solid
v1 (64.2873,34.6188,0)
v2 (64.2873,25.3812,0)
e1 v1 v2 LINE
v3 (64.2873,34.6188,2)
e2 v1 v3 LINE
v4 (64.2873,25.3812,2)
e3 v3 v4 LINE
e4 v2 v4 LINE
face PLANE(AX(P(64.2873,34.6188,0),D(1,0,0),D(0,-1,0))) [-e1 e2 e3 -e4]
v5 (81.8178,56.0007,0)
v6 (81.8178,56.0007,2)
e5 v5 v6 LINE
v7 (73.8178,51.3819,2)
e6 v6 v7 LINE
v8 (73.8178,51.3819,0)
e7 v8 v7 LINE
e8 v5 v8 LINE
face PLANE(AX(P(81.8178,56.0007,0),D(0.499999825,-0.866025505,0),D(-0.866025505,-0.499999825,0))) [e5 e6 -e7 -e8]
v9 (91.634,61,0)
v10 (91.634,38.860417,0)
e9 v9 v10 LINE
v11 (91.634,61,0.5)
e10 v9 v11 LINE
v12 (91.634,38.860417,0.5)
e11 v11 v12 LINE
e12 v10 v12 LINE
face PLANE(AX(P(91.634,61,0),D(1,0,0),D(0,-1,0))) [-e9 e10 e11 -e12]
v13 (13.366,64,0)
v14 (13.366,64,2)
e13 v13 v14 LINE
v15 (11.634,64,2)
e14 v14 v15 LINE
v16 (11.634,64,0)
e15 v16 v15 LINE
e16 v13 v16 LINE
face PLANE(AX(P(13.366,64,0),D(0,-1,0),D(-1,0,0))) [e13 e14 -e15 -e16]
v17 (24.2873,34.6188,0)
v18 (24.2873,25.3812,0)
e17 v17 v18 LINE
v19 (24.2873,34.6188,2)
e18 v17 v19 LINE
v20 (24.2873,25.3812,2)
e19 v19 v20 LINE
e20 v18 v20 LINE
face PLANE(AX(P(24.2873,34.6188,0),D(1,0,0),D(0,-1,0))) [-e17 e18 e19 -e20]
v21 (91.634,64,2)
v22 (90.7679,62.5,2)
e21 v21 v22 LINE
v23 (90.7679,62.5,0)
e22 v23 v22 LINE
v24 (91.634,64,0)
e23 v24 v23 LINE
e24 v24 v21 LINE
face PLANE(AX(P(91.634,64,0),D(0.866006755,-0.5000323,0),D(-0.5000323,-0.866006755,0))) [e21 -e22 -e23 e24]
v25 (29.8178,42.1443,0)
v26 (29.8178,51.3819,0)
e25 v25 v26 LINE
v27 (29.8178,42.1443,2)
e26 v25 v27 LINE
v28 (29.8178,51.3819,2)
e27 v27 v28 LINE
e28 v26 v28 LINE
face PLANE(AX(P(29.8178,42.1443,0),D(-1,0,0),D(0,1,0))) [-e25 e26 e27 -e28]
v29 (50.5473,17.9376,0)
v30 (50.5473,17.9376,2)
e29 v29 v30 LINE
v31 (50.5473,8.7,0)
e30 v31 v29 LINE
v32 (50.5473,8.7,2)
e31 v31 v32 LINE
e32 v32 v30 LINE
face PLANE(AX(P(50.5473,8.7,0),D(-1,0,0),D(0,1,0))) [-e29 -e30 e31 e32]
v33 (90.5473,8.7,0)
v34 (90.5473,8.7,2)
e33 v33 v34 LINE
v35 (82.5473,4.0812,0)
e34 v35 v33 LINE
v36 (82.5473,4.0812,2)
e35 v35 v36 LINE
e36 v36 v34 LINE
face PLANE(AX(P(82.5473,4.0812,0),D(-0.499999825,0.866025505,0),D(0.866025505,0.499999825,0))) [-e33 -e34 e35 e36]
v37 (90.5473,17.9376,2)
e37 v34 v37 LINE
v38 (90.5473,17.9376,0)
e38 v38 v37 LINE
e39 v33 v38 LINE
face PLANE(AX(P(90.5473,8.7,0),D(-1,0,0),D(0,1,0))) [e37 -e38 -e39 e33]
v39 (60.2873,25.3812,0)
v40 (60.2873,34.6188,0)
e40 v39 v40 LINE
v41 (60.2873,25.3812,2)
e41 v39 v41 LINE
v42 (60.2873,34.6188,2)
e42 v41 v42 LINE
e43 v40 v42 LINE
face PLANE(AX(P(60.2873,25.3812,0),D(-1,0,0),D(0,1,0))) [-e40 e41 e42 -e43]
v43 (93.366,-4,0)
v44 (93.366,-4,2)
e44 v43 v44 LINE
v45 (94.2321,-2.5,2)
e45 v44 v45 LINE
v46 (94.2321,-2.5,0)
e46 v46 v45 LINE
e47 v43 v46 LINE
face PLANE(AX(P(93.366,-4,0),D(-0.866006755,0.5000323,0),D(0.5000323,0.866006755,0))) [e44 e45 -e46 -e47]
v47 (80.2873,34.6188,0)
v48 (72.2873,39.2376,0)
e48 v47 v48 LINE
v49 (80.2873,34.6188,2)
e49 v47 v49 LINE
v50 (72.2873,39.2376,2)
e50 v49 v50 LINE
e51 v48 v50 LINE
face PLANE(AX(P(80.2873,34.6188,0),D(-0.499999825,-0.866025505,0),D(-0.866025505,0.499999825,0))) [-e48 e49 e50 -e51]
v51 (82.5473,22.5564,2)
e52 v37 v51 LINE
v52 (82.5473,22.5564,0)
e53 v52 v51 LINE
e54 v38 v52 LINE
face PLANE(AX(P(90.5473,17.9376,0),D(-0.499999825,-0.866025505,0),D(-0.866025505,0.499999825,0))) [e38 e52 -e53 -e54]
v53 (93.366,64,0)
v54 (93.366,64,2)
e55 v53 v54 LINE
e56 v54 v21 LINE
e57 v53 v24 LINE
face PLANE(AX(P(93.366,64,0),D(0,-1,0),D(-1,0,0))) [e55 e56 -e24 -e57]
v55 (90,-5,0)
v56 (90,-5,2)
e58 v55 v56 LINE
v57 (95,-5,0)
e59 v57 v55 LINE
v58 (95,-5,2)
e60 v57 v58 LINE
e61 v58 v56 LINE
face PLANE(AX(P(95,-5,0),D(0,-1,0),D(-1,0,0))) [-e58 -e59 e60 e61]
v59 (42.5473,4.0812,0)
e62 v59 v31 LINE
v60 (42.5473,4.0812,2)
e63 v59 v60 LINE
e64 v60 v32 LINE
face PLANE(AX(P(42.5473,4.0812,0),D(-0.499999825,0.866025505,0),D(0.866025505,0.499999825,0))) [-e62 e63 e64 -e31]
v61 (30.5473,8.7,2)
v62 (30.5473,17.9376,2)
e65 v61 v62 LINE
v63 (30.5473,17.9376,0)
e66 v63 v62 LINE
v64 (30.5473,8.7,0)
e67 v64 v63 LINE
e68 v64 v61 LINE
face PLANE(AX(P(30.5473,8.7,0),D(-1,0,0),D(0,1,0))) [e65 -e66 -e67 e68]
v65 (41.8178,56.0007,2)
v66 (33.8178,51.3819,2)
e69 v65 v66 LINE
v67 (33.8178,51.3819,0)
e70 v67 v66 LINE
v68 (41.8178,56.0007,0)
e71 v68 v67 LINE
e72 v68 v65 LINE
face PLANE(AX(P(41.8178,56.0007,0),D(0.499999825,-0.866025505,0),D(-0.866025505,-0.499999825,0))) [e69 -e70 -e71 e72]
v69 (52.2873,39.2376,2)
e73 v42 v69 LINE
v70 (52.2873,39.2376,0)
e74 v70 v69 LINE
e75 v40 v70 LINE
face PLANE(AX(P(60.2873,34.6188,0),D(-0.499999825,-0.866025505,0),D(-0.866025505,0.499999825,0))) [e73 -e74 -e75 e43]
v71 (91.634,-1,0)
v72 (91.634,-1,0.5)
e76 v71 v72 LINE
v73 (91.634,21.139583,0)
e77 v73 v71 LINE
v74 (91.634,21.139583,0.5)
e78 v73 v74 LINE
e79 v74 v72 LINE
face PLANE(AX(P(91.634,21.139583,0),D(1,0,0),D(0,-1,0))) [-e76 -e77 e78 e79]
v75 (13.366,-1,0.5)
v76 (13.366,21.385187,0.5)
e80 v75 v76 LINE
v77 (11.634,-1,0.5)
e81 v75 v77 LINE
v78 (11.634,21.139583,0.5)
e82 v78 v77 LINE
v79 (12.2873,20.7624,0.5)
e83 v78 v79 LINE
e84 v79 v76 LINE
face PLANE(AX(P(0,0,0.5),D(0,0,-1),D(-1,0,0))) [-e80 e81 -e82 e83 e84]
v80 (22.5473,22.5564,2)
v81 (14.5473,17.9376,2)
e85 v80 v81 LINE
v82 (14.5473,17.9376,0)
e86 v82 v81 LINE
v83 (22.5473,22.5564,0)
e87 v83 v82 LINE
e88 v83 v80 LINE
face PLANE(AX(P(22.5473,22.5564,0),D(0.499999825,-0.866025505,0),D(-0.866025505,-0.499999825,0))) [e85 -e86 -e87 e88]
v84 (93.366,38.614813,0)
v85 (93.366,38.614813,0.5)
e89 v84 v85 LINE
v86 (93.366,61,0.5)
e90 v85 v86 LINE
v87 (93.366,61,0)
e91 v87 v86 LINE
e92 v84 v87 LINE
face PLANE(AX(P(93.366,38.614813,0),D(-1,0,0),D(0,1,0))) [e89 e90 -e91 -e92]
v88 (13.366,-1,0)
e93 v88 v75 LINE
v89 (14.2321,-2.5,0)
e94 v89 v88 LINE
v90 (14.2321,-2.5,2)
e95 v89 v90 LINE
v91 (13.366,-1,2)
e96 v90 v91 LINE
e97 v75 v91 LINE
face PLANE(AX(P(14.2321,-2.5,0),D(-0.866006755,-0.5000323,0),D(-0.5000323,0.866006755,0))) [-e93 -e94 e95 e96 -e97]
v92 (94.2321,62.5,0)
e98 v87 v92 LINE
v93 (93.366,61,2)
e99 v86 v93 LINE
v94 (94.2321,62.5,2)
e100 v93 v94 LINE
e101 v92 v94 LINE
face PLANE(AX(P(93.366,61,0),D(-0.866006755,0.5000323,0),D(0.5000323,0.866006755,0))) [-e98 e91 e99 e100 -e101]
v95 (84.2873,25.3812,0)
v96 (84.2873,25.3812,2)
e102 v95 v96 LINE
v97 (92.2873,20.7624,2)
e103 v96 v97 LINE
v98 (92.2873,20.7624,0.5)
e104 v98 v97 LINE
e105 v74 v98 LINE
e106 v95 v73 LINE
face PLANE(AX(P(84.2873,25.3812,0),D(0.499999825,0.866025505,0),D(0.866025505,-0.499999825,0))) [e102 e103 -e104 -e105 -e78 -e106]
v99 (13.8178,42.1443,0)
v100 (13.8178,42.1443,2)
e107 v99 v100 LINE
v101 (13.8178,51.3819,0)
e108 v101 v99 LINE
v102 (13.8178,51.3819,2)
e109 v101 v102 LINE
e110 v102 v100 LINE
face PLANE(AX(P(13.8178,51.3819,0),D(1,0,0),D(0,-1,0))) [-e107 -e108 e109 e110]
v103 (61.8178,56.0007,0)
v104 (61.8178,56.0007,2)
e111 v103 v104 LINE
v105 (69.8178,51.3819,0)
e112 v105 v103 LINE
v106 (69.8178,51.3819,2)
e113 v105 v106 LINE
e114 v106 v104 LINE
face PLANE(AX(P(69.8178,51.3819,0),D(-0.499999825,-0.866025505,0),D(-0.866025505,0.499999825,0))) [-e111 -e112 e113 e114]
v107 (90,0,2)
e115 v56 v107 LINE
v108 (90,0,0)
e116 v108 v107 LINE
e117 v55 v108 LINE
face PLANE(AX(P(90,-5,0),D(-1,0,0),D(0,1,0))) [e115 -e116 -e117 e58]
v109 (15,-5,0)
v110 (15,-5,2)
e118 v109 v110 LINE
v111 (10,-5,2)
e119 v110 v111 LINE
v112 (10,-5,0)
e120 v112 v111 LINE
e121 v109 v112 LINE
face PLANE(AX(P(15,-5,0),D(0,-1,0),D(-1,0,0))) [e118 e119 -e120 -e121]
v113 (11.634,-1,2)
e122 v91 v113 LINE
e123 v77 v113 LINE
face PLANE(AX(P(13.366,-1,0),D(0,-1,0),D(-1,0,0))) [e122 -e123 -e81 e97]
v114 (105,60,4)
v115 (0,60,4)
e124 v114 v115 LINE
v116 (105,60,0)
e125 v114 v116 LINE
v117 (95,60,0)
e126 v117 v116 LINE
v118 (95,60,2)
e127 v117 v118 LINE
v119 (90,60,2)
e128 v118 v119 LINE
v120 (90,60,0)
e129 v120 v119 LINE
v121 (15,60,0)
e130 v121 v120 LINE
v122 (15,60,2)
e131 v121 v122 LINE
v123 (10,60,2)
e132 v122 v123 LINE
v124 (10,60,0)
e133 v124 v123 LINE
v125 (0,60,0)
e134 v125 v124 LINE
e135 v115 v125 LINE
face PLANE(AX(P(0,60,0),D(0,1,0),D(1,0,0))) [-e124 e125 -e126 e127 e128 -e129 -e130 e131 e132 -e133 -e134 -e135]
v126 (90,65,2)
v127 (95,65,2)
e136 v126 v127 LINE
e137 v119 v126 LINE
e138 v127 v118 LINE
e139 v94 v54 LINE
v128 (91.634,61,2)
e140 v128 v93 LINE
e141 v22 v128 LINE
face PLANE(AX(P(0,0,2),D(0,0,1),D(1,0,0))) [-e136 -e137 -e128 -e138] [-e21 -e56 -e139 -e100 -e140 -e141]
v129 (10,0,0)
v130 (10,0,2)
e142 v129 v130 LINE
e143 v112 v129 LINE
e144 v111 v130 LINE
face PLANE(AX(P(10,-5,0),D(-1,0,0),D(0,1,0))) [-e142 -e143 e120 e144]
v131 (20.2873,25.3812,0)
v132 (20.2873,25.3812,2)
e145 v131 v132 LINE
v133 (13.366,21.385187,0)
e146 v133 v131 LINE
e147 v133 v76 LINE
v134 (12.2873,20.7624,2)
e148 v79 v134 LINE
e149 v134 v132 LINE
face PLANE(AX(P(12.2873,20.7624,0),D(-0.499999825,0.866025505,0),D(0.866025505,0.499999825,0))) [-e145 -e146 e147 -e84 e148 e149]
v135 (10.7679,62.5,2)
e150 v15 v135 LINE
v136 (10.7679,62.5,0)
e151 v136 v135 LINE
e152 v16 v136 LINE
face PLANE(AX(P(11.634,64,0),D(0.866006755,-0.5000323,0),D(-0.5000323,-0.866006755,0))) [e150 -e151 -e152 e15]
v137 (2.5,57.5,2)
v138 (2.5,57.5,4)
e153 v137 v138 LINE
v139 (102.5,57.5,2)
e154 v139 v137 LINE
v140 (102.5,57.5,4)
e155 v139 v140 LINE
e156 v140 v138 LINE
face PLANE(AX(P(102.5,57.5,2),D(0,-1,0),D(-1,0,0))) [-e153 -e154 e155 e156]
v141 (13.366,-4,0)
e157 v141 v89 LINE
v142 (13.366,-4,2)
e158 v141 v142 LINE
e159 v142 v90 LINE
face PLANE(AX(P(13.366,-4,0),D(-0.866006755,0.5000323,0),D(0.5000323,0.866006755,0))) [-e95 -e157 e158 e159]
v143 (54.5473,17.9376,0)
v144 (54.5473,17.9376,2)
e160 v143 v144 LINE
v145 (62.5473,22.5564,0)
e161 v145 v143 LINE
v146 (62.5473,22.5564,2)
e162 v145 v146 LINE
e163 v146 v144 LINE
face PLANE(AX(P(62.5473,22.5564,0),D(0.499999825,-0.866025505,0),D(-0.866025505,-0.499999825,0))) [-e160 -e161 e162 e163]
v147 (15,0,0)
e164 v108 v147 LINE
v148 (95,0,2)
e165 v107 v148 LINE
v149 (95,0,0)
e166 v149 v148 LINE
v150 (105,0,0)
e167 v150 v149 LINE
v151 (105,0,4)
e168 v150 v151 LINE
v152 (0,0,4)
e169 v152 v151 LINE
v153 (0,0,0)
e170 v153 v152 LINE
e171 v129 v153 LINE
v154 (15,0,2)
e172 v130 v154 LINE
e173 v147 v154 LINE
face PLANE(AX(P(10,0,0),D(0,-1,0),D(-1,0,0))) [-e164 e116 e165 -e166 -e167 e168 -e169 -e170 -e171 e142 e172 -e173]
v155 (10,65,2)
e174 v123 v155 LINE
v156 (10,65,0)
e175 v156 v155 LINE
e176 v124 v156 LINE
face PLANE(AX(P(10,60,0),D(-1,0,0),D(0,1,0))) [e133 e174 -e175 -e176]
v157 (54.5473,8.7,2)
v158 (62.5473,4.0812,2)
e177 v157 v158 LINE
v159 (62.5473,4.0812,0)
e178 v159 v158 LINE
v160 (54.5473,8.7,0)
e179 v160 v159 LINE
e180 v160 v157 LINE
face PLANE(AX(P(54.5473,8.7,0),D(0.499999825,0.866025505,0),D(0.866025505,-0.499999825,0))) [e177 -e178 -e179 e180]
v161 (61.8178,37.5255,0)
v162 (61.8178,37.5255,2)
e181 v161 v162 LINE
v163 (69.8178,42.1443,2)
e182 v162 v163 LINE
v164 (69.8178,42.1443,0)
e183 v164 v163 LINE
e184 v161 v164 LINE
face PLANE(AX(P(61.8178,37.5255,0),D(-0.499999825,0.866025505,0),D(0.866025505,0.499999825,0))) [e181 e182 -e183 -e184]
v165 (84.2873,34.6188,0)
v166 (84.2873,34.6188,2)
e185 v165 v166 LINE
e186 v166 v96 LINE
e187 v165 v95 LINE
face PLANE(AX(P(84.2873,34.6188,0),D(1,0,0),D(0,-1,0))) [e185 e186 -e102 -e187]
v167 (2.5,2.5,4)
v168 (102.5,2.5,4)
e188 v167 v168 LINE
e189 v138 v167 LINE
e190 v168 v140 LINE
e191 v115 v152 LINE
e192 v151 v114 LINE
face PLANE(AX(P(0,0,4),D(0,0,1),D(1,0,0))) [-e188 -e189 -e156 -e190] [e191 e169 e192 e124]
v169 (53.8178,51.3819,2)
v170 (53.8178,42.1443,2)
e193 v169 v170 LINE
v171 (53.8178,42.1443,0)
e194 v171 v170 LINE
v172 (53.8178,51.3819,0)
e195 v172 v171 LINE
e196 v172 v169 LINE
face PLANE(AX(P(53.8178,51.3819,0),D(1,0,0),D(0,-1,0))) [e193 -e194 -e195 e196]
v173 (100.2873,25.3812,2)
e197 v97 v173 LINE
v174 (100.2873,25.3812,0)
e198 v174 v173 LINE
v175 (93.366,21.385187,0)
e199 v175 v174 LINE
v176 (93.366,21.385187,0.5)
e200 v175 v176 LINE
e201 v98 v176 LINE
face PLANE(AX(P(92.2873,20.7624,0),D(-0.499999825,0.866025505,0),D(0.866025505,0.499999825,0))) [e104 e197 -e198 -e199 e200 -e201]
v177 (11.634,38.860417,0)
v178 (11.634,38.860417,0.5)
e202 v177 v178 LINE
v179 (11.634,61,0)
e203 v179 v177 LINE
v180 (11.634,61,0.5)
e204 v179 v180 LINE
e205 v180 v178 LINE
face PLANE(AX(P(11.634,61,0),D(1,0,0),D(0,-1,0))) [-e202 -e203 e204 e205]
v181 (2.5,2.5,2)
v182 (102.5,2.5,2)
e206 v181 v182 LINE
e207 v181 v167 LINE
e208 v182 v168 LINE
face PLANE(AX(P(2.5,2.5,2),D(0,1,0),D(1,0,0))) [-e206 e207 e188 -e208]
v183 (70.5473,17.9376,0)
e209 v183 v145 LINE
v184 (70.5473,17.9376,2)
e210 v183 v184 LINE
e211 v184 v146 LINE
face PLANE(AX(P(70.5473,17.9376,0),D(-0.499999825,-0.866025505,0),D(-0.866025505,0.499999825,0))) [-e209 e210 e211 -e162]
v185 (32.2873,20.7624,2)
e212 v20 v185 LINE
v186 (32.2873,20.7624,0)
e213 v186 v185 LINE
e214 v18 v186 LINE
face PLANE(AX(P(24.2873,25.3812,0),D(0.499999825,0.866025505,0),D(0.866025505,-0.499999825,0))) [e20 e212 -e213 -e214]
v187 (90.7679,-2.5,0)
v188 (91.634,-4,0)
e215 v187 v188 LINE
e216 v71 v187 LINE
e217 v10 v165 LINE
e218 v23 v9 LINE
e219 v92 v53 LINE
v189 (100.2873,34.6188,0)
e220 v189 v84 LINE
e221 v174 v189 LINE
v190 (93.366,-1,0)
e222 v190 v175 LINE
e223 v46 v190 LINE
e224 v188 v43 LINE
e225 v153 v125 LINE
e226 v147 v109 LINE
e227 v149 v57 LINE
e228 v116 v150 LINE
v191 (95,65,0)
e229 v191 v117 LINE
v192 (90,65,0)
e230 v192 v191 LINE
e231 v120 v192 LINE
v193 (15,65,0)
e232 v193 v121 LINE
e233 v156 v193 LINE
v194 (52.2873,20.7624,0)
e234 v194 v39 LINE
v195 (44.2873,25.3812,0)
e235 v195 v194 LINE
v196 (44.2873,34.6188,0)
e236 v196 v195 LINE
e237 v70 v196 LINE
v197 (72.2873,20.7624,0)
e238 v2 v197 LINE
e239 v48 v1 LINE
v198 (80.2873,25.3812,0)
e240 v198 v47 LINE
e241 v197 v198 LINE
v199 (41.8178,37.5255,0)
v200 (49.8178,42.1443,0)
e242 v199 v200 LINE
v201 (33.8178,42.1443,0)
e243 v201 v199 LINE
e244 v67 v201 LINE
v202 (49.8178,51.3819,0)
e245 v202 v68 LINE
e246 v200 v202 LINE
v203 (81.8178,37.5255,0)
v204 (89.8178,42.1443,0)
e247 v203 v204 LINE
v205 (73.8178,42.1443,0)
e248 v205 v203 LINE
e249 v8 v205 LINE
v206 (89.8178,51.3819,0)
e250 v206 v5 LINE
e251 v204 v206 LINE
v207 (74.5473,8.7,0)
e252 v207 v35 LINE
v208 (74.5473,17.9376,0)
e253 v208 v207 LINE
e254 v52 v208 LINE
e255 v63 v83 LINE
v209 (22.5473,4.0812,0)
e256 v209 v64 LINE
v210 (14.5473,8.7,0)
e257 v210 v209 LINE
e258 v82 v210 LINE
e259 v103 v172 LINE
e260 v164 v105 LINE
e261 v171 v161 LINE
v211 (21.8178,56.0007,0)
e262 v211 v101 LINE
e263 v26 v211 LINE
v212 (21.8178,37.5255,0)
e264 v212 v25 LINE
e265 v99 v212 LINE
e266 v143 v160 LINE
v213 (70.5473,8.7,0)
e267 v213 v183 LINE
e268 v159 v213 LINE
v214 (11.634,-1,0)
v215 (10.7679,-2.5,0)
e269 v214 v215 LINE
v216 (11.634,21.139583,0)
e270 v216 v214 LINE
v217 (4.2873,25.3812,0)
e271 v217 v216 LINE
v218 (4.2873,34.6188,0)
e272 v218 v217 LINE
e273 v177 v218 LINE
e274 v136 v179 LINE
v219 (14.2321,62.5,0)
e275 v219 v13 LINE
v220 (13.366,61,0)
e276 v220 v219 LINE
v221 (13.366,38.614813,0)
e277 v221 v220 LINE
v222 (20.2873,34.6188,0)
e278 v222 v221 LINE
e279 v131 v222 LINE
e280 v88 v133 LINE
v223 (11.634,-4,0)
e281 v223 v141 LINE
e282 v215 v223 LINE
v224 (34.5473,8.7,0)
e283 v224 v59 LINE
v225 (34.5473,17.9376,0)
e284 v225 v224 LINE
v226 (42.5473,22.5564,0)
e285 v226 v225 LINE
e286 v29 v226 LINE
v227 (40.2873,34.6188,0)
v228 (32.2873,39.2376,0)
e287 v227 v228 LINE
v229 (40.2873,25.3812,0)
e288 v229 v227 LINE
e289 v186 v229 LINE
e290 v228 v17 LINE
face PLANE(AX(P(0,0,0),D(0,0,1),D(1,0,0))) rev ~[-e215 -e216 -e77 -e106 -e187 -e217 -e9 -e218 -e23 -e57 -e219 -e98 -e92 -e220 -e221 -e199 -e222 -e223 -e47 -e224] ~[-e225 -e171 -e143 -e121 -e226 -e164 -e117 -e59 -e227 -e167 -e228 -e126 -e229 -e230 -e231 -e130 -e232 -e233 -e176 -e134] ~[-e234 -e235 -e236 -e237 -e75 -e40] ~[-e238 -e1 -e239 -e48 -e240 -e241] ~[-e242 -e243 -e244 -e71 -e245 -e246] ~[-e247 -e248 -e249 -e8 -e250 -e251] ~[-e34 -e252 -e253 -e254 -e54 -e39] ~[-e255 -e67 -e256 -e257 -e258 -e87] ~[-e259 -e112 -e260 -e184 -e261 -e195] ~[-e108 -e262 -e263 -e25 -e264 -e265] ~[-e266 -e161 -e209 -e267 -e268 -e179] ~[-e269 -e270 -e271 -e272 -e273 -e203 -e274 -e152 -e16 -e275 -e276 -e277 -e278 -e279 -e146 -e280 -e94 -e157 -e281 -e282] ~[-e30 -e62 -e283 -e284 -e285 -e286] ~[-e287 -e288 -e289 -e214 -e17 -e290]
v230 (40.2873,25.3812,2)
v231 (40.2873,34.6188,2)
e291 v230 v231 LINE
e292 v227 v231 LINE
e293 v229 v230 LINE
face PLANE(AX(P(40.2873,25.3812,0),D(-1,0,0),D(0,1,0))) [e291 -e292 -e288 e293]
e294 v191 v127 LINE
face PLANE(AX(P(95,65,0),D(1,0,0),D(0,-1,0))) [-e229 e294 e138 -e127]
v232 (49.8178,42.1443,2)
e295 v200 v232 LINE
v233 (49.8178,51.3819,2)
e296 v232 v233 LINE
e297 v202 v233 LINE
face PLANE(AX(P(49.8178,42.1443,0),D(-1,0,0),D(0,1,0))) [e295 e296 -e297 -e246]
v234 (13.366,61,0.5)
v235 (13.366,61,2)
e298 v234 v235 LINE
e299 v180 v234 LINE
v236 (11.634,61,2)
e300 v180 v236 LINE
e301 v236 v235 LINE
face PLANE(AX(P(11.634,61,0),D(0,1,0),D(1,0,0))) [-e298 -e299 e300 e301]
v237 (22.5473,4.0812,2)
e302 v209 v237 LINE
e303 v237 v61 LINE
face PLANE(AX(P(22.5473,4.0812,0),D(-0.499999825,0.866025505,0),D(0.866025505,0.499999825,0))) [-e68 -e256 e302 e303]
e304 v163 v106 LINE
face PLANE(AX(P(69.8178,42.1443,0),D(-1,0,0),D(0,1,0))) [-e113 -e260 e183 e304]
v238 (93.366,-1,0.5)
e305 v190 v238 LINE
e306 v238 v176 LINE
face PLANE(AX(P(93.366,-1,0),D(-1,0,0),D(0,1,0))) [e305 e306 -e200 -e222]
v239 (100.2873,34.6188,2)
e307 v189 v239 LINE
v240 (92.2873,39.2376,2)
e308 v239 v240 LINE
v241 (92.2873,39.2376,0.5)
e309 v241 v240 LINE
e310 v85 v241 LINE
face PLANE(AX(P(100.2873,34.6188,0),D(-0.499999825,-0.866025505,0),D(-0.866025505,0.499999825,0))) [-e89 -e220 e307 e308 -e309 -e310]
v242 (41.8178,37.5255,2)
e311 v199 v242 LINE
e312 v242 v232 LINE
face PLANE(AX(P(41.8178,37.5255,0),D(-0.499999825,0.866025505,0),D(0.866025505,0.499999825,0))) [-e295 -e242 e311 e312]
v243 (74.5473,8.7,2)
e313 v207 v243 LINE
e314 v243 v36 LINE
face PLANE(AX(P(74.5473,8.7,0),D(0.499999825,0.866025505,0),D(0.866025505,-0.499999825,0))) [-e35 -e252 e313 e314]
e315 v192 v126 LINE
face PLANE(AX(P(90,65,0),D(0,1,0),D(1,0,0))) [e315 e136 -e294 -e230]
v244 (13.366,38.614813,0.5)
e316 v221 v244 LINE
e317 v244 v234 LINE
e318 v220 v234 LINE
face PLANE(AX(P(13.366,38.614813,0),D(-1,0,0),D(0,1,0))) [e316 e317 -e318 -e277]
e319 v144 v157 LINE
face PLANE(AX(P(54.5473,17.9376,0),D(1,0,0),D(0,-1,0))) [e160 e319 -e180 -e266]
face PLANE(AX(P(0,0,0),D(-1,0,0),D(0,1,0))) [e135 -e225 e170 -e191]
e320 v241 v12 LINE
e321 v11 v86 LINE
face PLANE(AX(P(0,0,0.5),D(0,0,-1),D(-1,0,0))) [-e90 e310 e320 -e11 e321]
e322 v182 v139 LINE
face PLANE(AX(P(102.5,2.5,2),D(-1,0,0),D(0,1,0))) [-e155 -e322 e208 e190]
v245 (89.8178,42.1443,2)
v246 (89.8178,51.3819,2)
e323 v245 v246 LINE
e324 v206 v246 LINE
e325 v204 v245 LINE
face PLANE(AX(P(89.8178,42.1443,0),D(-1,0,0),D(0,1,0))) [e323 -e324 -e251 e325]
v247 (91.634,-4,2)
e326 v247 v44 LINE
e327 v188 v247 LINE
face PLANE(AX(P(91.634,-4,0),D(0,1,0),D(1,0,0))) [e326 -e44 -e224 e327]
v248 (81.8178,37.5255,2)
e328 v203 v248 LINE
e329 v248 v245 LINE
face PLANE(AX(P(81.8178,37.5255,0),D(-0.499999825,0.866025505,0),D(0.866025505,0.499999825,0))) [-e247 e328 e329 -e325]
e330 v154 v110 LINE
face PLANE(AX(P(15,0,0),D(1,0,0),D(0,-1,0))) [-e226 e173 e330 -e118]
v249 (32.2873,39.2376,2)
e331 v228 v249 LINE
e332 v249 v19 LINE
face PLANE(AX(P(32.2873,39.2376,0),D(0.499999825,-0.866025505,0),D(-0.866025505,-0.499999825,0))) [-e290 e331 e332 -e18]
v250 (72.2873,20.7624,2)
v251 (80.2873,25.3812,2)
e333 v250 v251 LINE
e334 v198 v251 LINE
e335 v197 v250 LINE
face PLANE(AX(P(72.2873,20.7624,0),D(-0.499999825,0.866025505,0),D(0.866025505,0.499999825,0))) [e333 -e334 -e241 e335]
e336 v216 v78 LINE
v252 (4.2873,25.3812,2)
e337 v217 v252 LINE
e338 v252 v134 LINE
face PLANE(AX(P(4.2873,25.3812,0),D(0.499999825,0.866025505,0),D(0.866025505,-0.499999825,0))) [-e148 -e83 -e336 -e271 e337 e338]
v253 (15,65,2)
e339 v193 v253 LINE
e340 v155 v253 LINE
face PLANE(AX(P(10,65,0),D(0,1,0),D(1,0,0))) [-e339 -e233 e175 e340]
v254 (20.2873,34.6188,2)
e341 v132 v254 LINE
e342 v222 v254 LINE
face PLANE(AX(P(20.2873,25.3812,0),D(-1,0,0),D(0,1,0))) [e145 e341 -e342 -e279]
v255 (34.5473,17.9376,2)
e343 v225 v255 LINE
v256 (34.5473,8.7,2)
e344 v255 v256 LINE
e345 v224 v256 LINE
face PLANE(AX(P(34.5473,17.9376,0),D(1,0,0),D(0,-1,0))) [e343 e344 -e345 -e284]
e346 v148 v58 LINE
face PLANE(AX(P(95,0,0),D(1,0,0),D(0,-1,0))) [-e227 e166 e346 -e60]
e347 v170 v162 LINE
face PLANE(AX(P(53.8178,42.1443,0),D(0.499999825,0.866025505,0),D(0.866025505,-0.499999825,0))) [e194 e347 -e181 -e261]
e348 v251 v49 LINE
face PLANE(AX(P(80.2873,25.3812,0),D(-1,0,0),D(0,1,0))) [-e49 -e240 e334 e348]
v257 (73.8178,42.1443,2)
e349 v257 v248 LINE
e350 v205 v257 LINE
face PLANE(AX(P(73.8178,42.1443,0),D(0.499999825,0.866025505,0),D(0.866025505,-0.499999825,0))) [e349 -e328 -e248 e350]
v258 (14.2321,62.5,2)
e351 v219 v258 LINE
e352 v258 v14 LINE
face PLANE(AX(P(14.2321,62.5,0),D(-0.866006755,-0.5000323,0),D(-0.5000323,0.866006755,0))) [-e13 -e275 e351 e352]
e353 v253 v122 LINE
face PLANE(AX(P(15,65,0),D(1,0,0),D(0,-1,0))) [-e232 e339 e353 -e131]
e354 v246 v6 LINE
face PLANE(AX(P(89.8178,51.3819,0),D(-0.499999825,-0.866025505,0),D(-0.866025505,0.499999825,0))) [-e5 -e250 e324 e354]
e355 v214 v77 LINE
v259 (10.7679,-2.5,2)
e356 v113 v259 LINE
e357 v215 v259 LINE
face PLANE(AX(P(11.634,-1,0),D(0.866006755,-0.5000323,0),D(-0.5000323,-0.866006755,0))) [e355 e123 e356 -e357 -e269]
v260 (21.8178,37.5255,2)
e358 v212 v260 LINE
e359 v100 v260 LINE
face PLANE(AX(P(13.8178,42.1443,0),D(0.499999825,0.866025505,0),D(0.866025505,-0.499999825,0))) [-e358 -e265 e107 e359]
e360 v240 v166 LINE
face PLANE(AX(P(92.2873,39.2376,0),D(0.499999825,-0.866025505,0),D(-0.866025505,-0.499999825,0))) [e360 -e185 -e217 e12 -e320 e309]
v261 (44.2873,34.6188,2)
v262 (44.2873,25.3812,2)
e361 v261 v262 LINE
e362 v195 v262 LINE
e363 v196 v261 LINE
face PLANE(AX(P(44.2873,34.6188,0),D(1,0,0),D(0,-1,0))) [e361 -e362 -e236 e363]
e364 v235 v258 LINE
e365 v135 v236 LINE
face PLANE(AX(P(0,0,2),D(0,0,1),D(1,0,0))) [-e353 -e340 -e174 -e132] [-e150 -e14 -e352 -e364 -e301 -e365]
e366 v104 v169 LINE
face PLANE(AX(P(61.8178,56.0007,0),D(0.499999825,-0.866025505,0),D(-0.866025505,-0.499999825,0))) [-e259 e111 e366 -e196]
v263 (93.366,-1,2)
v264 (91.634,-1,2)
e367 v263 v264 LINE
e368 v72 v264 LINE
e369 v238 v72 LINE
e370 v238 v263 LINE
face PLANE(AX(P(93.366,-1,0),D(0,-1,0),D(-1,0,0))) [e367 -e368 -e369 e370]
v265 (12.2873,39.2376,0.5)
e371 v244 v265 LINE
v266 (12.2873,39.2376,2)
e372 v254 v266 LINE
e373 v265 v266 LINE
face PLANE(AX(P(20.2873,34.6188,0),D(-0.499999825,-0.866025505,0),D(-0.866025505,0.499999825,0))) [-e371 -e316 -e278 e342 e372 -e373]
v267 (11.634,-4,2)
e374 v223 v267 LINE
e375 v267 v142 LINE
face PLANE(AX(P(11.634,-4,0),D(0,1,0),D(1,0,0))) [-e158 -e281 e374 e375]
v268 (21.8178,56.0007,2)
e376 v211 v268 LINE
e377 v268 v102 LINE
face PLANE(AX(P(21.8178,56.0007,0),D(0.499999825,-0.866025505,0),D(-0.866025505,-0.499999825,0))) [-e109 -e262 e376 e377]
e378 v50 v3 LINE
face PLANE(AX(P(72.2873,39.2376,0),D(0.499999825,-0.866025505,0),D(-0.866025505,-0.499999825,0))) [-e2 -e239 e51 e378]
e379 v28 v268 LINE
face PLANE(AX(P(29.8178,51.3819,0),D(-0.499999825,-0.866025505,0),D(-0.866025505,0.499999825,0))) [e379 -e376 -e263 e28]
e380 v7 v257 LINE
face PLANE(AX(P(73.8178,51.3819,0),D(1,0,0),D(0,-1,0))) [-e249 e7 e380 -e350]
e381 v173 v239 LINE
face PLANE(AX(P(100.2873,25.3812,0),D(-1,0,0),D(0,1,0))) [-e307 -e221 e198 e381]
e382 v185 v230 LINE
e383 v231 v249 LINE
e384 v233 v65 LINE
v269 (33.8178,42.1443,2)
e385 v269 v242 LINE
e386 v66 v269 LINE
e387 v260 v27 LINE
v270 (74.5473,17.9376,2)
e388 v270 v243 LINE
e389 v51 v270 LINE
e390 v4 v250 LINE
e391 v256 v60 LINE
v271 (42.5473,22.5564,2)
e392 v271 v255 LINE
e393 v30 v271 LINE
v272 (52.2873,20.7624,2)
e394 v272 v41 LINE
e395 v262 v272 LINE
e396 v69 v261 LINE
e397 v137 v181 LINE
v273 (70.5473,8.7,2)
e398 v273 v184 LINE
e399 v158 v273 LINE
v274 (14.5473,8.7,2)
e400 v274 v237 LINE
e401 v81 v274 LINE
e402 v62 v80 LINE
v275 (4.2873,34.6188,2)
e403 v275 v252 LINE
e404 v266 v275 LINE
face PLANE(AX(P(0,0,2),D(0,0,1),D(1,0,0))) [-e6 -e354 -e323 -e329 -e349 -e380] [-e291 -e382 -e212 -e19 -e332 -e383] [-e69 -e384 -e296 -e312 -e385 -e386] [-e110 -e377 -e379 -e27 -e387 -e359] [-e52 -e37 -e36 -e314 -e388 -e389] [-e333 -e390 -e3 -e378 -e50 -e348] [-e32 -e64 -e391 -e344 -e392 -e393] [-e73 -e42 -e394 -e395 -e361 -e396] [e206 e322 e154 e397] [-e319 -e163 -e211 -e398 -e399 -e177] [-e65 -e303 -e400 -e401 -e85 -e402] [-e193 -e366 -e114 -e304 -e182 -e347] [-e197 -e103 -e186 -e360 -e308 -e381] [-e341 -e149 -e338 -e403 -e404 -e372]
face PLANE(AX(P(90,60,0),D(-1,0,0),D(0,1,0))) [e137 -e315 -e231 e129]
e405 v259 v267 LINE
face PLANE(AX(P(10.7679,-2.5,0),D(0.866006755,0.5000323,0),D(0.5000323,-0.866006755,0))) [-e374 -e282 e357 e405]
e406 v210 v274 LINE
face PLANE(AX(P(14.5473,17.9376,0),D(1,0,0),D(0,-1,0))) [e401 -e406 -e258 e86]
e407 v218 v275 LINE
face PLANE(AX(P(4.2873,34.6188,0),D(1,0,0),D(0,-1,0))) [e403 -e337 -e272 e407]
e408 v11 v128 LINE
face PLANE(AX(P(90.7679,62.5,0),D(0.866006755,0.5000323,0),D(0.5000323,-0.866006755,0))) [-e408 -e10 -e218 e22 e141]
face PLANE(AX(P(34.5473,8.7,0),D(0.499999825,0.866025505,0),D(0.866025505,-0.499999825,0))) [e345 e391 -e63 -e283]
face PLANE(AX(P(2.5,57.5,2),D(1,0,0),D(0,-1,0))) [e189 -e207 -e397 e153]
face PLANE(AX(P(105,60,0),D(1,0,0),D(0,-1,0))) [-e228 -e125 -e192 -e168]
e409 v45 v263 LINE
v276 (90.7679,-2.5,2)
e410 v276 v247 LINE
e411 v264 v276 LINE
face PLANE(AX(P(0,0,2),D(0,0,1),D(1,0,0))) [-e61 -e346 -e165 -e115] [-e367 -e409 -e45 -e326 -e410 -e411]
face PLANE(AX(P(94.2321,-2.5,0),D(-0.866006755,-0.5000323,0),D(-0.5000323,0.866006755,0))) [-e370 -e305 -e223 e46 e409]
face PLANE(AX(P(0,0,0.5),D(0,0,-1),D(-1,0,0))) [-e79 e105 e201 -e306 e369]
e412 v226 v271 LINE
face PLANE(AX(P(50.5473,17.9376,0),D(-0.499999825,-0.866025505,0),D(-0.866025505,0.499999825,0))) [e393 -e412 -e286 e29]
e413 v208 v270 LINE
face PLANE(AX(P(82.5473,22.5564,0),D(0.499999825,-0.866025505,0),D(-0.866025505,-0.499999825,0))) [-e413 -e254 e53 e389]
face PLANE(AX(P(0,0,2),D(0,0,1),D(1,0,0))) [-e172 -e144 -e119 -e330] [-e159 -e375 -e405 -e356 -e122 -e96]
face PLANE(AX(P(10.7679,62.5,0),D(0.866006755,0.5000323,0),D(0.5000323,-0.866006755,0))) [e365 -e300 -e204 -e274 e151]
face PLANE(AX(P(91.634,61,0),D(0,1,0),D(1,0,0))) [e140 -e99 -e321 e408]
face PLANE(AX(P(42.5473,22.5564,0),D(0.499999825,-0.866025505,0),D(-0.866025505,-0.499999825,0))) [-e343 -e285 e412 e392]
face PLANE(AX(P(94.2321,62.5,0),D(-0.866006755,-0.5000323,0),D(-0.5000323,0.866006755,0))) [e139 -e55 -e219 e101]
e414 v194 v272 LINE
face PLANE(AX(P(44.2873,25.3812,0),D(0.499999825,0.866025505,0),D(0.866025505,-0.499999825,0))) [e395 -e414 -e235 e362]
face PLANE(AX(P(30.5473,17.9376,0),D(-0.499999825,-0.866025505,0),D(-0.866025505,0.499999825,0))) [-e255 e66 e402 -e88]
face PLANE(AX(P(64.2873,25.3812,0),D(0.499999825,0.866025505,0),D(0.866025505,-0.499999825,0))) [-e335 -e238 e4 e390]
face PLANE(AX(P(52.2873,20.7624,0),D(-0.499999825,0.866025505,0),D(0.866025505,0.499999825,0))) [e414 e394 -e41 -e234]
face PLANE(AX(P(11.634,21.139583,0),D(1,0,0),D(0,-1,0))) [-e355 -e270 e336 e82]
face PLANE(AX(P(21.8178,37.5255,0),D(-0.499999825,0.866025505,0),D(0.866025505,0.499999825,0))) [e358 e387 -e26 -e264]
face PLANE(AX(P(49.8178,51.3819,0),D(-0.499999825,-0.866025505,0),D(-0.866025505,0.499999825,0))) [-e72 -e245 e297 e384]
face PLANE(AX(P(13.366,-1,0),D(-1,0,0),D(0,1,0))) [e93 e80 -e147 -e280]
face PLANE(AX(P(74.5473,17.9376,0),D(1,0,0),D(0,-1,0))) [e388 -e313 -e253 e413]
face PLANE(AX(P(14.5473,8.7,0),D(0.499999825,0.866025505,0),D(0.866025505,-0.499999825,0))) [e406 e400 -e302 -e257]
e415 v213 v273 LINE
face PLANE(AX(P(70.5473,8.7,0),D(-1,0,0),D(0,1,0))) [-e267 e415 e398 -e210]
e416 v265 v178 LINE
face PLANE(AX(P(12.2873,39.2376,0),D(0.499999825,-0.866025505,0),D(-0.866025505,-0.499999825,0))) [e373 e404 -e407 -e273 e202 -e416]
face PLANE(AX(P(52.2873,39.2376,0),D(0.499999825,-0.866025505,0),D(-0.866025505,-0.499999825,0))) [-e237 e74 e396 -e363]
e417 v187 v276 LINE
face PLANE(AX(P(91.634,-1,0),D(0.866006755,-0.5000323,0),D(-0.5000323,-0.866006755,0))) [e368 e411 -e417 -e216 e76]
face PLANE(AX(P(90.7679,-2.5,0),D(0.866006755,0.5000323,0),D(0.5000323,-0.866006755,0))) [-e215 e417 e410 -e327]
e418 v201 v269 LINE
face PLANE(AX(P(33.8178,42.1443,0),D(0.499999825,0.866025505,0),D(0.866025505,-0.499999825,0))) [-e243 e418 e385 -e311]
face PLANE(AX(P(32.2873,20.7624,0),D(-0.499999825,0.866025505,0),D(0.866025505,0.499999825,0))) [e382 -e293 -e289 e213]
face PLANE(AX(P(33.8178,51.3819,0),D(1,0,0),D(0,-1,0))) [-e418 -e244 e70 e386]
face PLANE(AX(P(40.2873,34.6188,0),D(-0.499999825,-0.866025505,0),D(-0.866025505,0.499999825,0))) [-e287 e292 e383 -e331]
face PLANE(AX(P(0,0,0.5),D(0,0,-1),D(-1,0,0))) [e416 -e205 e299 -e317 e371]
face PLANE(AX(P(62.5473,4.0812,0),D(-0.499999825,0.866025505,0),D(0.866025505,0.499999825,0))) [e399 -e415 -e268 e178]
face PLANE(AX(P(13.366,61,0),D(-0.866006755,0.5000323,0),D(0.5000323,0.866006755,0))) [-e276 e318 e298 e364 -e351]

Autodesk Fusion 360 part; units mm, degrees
sketch "Sketch1" plane through (0, 0, 0) normal (0, 0, 1) x (1, 0, 0)
  line L0 (0, 0) -> (0, 60)
  line L1 (0, 60) -> (10, 60)
  line L2 (10, 60) -> (10, 65)
  line L3 (10, 65) -> (15, 65)
  line L4 (15, 65) -> (15, 60)
  line L5 (15, 60) -> (90, 60)
  line L6 (90, 60) -> (90, 65)
  line L7 (90, 65) -> (95, 65)
  line L8 (95, 65) -> (95, 60)
  line L9 (95, 60) -> (105, 60)
  line L10 (105, 60) -> (105, 0)
  line L11 (105, 0) -> (95, 0)
  line L12 (95, 0) -> (95, -5)
  line L13 (95, -5) -> (90, -5)
  line L14 (90, -5) -> (90, 0)
  line L15 (90, 0) -> (15, 0)
  line L16 (15, 0) -> (15, -5)
  line L17 (15, -5) -> (10, -5)
  line L18 (10, -5) -> (10, 0)
  line L19 (10, 0) -> (0, 0)
  line L20 (10, 60) -> (15, 60) construction
  line L21 (12.5, 60) -> (12.5, 65) construction
  line L22 (90, 60) -> (95, 60) construction
  line L23 (92.5, 60) -> (92.5, 65) construction
  line L24 (90, 0) -> (95, 0) construction
  line L25 (92.5, 0) -> (92.5, -5) construction
  line L26 (10, 0) -> (15, 0) construction
  line L27 (12.5, 0) -> (12.5, -5) construction
  line L28 (13.366, 61) -> (14.2321, 62.5)
  line L29 (14.2321, 62.5) -> (13.366, 64)
  line L30 (13.366, 64) -> (11.634, 64)
  line L31 (11.634, 64) -> (10.7679, 62.5)
  line L32 (10.7679, 62.5) -> (11.634, 61)
  line L33 (11.634, 61) -> (13.366, 61)
  line L34 (94.2321, 62.5) -> (93.366, 64)
  line L35 (93.366, 64) -> (91.634, 64)
  line L36 (91.634, 64) -> (90.7679, 62.5)
  line L37 (90.7679, 62.5) -> (91.634, 61)
  line L38 (91.634, 61) -> (93.366, 61)
  line L39 (93.366, 61) -> (94.2321, 62.5)
  line L40 (94.2321, -2.5) -> (93.366, -1)
  line L41 (93.366, -1) -> (91.634, -1)
  line L42 (91.634, -1) -> (90.7679, -2.5)
  line L43 (90.7679, -2.5) -> (91.634, -4)
  line L44 (91.634, -4) -> (93.366, -4)
  line L45 (93.366, -4) -> (94.2321, -2.5)
  line L46 (13.366, -1) -> (11.634, -1)
  line L47 (11.634, -1) -> (10.7679, -2.5)
  line L48 (10.7679, -2.5) -> (11.634, -4)
  line L49 (11.634, -4) -> (13.366, -4)
  line L50 (13.366, -4) -> (14.2321, -2.5)
  line L51 (14.2321, -2.5) -> (13.366, -1)
  line L52 (2.5, 57.5) -> (102.5, 57.5) construction
  line L53 (102.5, 57.5) -> (102.5, 2.5) construction
  line L54 (102.5, 2.5) -> (2.5, 2.5) construction
  line L55 (2.5, 2.5) -> (2.5, 57.5) construction
  line L56 (2.5, 57.5) -> (0, 57.5) construction
  line L57 (2.5, 57.5) -> (2.5, 60) construction
  line L58 (102.5, 2.5) -> (102.5, 0) construction
  line L59 (102.5, 2.5) -> (105, 2.5) construction
  line L60 (20.2873, 34.6188) -> (12.2873, 39.2376)
  line L61 (12.2873, 39.2376) -> (4.2873, 34.6188)
  line L62 (4.2873, 34.6188) -> (4.2873, 25.3812)
  line L63 (4.2873, 25.3812) -> (12.2873, 20.7624)
  line L64 (12.2873, 20.7624) -> (20.2873, 25.3812)
  line L65 (20.2873, 25.3812) -> (20.2873, 34.6188)
  line L66 (12.2873, 30) -> (12.2873, 57.5) construction
  line L67 (12.2873, 30) -> (12.2873, 2.5) construction
  line L68 (29.8178, 51.3819) -> (21.8178, 56.0007)
  line L69 (21.8178, 56.0007) -> (13.8178, 51.3819)
  line L70 (13.8178, 51.3819) -> (13.8178, 42.1443)
  line L71 (13.8178, 42.1443) -> (21.8178, 37.5255)
  line L72 (21.8178, 37.5255) -> (29.8178, 42.1443)
  line L73 (29.8178, 42.1443) -> (29.8178, 51.3819)
  line L74 (30.5473, 8.7) -> (30.5473, 17.9376)
  line L75 (30.5473, 17.9376) -> (22.5473, 22.5564)
  line L76 (22.5473, 22.5564) -> (14.5473, 17.9376)
  line L77 (14.5473, 17.9376) -> (14.5473, 8.7)
  line L78 (14.5473, 8.7) -> (22.5473, 4.0812)
  line L79 (22.5473, 4.0812) -> (30.5473, 8.7)
  line L80 (21.8178, 34.6188) -> (21.8178, 37.5255) construction
  line L81 (41.8178, 37.5255) -> (49.8178, 42.1443)
  line L82 (49.8178, 42.1443) -> (49.8178, 51.3819)
  line L83 (49.8178, 51.3819) -> (41.8178, 56.0007)
  line L84 (41.8178, 56.0007) -> (33.8178, 51.3819)
  line L85 (33.8178, 51.3819) -> (33.8178, 42.1443)
  line L86 (33.8178, 42.1443) -> (41.8178, 37.5255)
  line L87 (40.2873, 34.6188) -> (32.2873, 39.2376)
  line L88 (32.2873, 39.2376) -> (24.2873, 34.6188)
  line L89 (24.2873, 34.6188) -> (24.2873, 25.3812)
  line L90 (24.2873, 25.3812) -> (32.2873, 20.7624)
  line L91 (32.2873, 20.7624) -> (40.2873, 25.3812)
  line L92 (40.2873, 25.3812) -> (40.2873, 34.6188)
  line L93 (42.5473, 22.5564) -> (34.5473, 17.9376)
  line L94 (50.5473, 17.9376) -> (42.5473, 22.5564)
  line L95 (50.5473, 8.7) -> (50.5473, 17.9376)
  line L96 (42.5473, 4.0812) -> (50.5473, 8.7)
  line L97 (34.5473, 8.7) -> (42.5473, 4.0812)
  line L98 (34.5473, 17.9376) -> (34.5473, 8.7)
  line L99 (61.8178, 37.5255) -> (69.8178, 42.1443)
  line L100 (69.8178, 42.1443) -> (69.8178, 51.3819)
  line L101 (69.8178, 51.3819) -> (61.8178, 56.0007)
  line L102 (61.8178, 56.0007) -> (53.8178, 51.3819)
  line L103 (53.8178, 51.3819) -> (53.8178, 42.1443)
  line L104 (53.8178, 42.1443) -> (61.8178, 37.5255)
  line L105 (60.2873, 34.6188) -> (52.2873, 39.2376)
  line L106 (52.2873, 39.2376) -> (44.2873, 34.6188)
  line L107 (44.2873, 34.6188) -> (44.2873, 25.3812)
  line L108 (44.2873, 25.3812) -> (52.2873, 20.7624)
  line L109 (52.2873, 20.7624) -> (60.2873, 25.3812)
  line L110 (60.2873, 25.3812) -> (60.2873, 34.6188)
  line L111 (62.5473, 22.5564) -> (54.5473, 17.9376)
  line L112 (70.5473, 17.9376) -> (62.5473, 22.5564)
  line L113 (70.5473, 8.7) -> (70.5473, 17.9376)
  line L114 (62.5473, 4.0812) -> (70.5473, 8.7)
  line L115 (54.5473, 8.7) -> (62.5473, 4.0812)
  line L116 (54.5473, 17.9376) -> (54.5473, 8.7)
  line L117 (81.8178, 37.5255) -> (89.8178, 42.1443)
  line L118 (89.8178, 42.1443) -> (89.8178, 51.3819)
  line L119 (89.8178, 51.3819) -> (81.8178, 56.0007)
  line L120 (81.8178, 56.0007) -> (73.8178, 51.3819)
  line L121 (73.8178, 51.3819) -> (73.8178, 42.1443)
  line L122 (73.8178, 42.1443) -> (81.8178, 37.5255)
  line L123 (80.2873, 34.6188) -> (72.2873, 39.2376)
  line L124 (72.2873, 39.2376) -> (64.2873, 34.6188)
  line L125 (64.2873, 34.6188) -> (64.2873, 25.3812)
  line L126 (64.2873, 25.3812) -> (72.2873, 20.7624)
  line L127 (72.2873, 20.7624) -> (80.2873, 25.3812)
  line L128 (80.2873, 25.3812) -> (80.2873, 34.6188)
  line L129 (82.5473, 22.5564) -> (74.5473, 17.9376)
  line L130 (90.5473, 17.9376) -> (82.5473, 22.5564)
  line L131 (90.5473, 8.7) -> (90.5473, 17.9376)
  line L132 (82.5473, 4.0812) -> (90.5473, 8.7)
  line L133 (74.5473, 8.7) -> (82.5473, 4.0812)
  line L134 (74.5473, 17.9376) -> (74.5473, 8.7)
  line L135 (100.2873, 25.3812) -> (100.2873, 34.6188)
  line L136 (100.2873, 34.6188) -> (92.2873, 39.2376)
  line L137 (92.2873, 39.2376) -> (84.2873, 34.6188)
  line L138 (84.2873, 34.6188) -> (84.2873, 25.3812)
  line L139 (84.2873, 25.3812) -> (92.2873, 20.7624)
  line L140 (92.2873, 20.7624) -> (100.2873, 25.3812)
  point P0 (12.5, 62.5)
  point P1 (92.5, 62.5)
  point P2 (92.5, -2.5)
  point P3 (12.5, -2.5)
  point P4 (12.2873, 30)
  point P5 (21.8178, 46.7631)
  point P6 (22.5473, 13.3188)
  dimension "d1" = 60
  dimension "d2" = 5
  dimension "d3" = 5
  dimension "d7" = 105
  dimension "d8" = 10
  dimension "d9" = 1.5
  dimension "d10" = 1.5
  dimension "d11" = 1.5
  dimension "d12" = 1.5
  dimension "d19" = 2.5
  dimension "d21" = 8
  dimension "d29" = -60
  dimension "d30" = 0
  dimension "d33" = 20
  dimension "d34" = 0
extrude "Extrude2" add sketch "Sketch1" along normal blind 2
sketch "Sketch2" plane through (0, 0, 0) normal (0, 0, 1) x (1, 0, 0)
  line L0 (0, 0) -> (105, 0)
  line L1 (105, 0) -> (105, 60)
  line L2 (105, 60) -> (0, 60)
  line L3 (0, 60) -> (0, 0)
  line L4 (2.5, 2.5) -> (102.5, 2.5)
  line L5 (102.5, 2.5) -> (102.5, 57.5)
  line L6 (102.5, 57.5) -> (2.5, 57.5)
  line L7 (2.5, 57.5) -> (2.5, 2.5)
  line L8 (2.5, 57.5) -> (0, 57.5) construction
  line L9 (2.5, 57.5) -> (2.5, 60) construction
  line L10 (102.5, 2.5) -> (102.5, 0) construction
  line L11 (102.5, 2.5) -> (105, 2.5) construction
  line L12 (10, 60) -> (0, 60) construction
  line L13 (105, 0) -> (105, 60)
  dimension "d15" = 2.5
extrude "Extrude3" add sketch "Sketch2" along normal blind 2 from surface at 2
sketch "Sketch3" plane through (0, 0, 0) normal (0, 0, -1) x (-1, 0, 0)
  line L0 (-22.5473, 4.0812) -> (-30.5473, 8.7)
  line L1 (-30.5473, 8.7) -> (-30.5473, 17.9376)
  line L2 (-30.5473, 17.9376) -> (-22.5473, 22.5564)
  line L3 (-22.5473, 22.5564) -> (-14.5473, 17.9376)
  line L4 (-14.5473, 17.9376) -> (-14.5473, 8.7)
  line L5 (-14.5473, 8.7) -> (-22.5473, 4.0812)
  line L6 (-11.634, 61) -> (-13.366, 61)
  line L7 (-13.366, 61) -> (-14.2321, 62.5)
  line L8 (-14.2321, 62.5) -> (-13.366, 64)
  line L9 (-13.366, 64) -> (-11.634, 64)
  line L10 (-11.634, 64) -> (-10.7679, 62.5)
  line L11 (-10.7679, 62.5) -> (-11.634, 61)
  line L12 (-93.366, 61) -> (-94.2321, 62.5)
  line L13 (-94.2321, 62.5) -> (-93.366, 64)
  line L14 (-93.366, 64) -> (-91.634, 64)
  line L15 (-91.634, 64) -> (-90.7679, 62.5)
  line L16 (-90.7679, 62.5) -> (-91.634, 61)
  line L17 (-91.634, 61) -> (-93.366, 61)
  line L18 (-93.366, -4) -> (-94.2321, -2.5)
  line L19 (-94.2321, -2.5) -> (-93.366, -1)
  line L20 (-93.366, -1) -> (-91.634, -1)
  line L21 (-91.634, -1) -> (-90.7679, -2.5)
  line L22 (-90.7679, -2.5) -> (-91.634, -4)
  line L23 (-91.634, -4) -> (-93.366, -4)
  line L24 (-14.2321, -2.5) -> (-13.366, -1)
  line L25 (-13.366, -1) -> (-11.634, -1)
  line L26 (-11.634, -1) -> (-10.7679, -2.5)
  line L27 (-10.7679, -2.5) -> (-11.634, -4)
  line L28 (-11.634, -4) -> (-13.366, -4)
  line L29 (-13.366, -4) -> (-14.2321, -2.5)
  line L30 (-29.8178, 42.1443) -> (-29.8178, 51.3819)
  line L31 (-29.8178, 51.3819) -> (-21.8178, 56.0007)
  line L32 (-21.8178, 56.0007) -> (-13.8178, 51.3819)
  line L33 (-13.8178, 51.3819) -> (-13.8178, 42.1443)
  line L34 (-13.8178, 42.1443) -> (-21.8178, 37.5255)
  line L35 (-21.8178, 37.5255) -> (-29.8178, 42.1443)
  line L36 (-20.2873, 25.3812) -> (-20.2873, 34.6188)
  line L37 (-20.2873, 34.6188) -> (-12.2873, 39.2376)
  line L38 (-12.2873, 39.2376) -> (-4.2873, 34.6188)
  line L39 (-4.2873, 34.6188) -> (-4.2873, 25.3812)
  line L40 (-4.2873, 25.3812) -> (-12.2873, 20.7624)
  line L41 (-12.2873, 20.7624) -> (-20.2873, 25.3812)
  line L42 (-73.8178, 42.1443) -> (-81.8178, 37.5255)
  line L43 (-81.8178, 37.5255) -> (-89.8178, 42.1443)
  line L44 (-89.8178, 42.1443) -> (-89.8178, 51.3819)
  line L45 (-89.8178, 51.3819) -> (-81.8178, 56.0007)
  line L46 (-81.8178, 56.0007) -> (-73.8178, 51.3819)
  line L47 (-73.8178, 51.3819) -> (-73.8178, 42.1443)
  line L48 (-54.5473, 17.9376) -> (-54.5473, 8.7)
  line L49 (-54.5473, 8.7) -> (-62.5473, 4.0812)
  line L50 (-62.5473, 4.0812) -> (-70.5473, 8.7)
  line L51 (-70.5473, 8.7) -> (-70.5473, 17.9376)
  line L52 (-70.5473, 17.9376) -> (-62.5473, 22.5564)
  line L53 (-62.5473, 22.5564) -> (-54.5473, 17.9376)
  line L54 (-60.2873, 25.3812) -> (-60.2873, 34.6188)
  line L55 (-60.2873, 34.6188) -> (-52.2873, 39.2376)
  line L56 (-52.2873, 39.2376) -> (-44.2873, 34.6188)
  line L57 (-44.2873, 34.6188) -> (-44.2873, 25.3812)
  line L58 (-44.2873, 25.3812) -> (-52.2873, 20.7624)
  line L59 (-52.2873, 20.7624) -> (-60.2873, 25.3812)
  line L60 (-53.8178, 42.1443) -> (-61.8178, 37.5255)
  line L61 (-61.8178, 37.5255) -> (-69.8178, 42.1443)
  line L62 (-69.8178, 42.1443) -> (-69.8178, 51.3819)
  line L63 (-69.8178, 51.3819) -> (-61.8178, 56.0007)
  line L64 (-61.8178, 56.0007) -> (-53.8178, 51.3819)
  line L65 (-53.8178, 51.3819) -> (-53.8178, 42.1443)
  line L66 (-34.5473, 17.9376) -> (-34.5473, 8.7)
  line L67 (-34.5473, 8.7) -> (-42.5473, 4.0812)
  line L68 (-42.5473, 4.0812) -> (-50.5473, 8.7)
  line L69 (-50.5473, 8.7) -> (-50.5473, 17.9376)
  line L70 (-50.5473, 17.9376) -> (-42.5473, 22.5564)
  line L71 (-42.5473, 22.5564) -> (-34.5473, 17.9376)
  line L72 (-40.2873, 25.3812) -> (-40.2873, 34.6188)
  line L73 (-40.2873, 34.6188) -> (-32.2873, 39.2376)
  line L74 (-32.2873, 39.2376) -> (-24.2873, 34.6188)
  line L75 (-24.2873, 34.6188) -> (-24.2873, 25.3812)
  line L76 (-24.2873, 25.3812) -> (-32.2873, 20.7624)
  line L77 (-32.2873, 20.7624) -> (-40.2873, 25.3812)
  line L78 (-33.8178, 42.1443) -> (-41.8178, 37.5255)
  line L79 (-41.8178, 37.5255) -> (-49.8178, 42.1443)
  line L80 (-49.8178, 42.1443) -> (-49.8178, 51.3819)
  line L81 (-49.8178, 51.3819) -> (-41.8178, 56.0007)
  line L82 (-41.8178, 56.0007) -> (-33.8178, 51.3819)
  line L83 (-33.8178, 51.3819) -> (-33.8178, 42.1443)
  line L84 (-92.2873, 20.7624) -> (-100.2873, 25.3812)
  line L85 (-100.2873, 25.3812) -> (-100.2873, 34.6188)
  line L86 (-100.2873, 34.6188) -> (-92.2873, 39.2376)
  line L87 (-92.2873, 39.2376) -> (-84.2873, 34.6188)
  line L88 (-84.2873, 34.6188) -> (-84.2873, 25.3812)
  line L89 (-84.2873, 25.3812) -> (-92.2873, 20.7624)
  line L90 (-80.2873, 25.3812) -> (-80.2873, 34.6188)
  line L91 (-80.2873, 34.6188) -> (-72.2873, 39.2376)
  line L92 (-72.2873, 39.2376) -> (-64.2873, 34.6188)
  line L93 (-64.2873, 34.6188) -> (-64.2873, 25.3812)
  line L94 (-64.2873, 25.3812) -> (-72.2873, 20.7624)
  line L95 (-72.2873, 20.7624) -> (-80.2873, 25.3812)
  line L96 (-74.5473, 17.9376) -> (-74.5473, 8.7)
  line L97 (-74.5473, 8.7) -> (-82.5473, 4.0812)
  line L98 (-82.5473, 4.0812) -> (-90.5473, 8.7)
  line L99 (-90.5473, 8.7) -> (-90.5473, 17.9376)
  line L100 (-90.5473, 17.9376) -> (-82.5473, 22.5564)
  line L101 (-82.5473, 22.5564) -> (-74.5473, 17.9376)
  line L102 (-10, -5) -> (-10, 0)
  line L103 (-10, 0) -> (0, 0)
  line L104 (0, 0) -> (0, 60)
  line L105 (0, 60) -> (-10, 60)
  line L106 (-10, 60) -> (-10, 65)
  line L107 (-10, 65) -> (-15, 65)
  line L108 (-15, 65) -> (-15, 60)
  line L109 (-15, 60) -> (-90, 60)
  line L110 (-90, 60) -> (-90, 65)
  line L111 (-90, 65) -> (-95, 65)
  line L112 (-95, 65) -> (-95, 60)
  line L113 (-95, 60) -> (-105, 60)
  line L114 (-105, 60) -> (-105, 0)
  line L115 (-105, 0) -> (-95, 0)
  line L116 (-95, 0) -> (-95, -5)
  line L117 (-95, -5) -> (-90, -5)
  line L118 (-90, -5) -> (-90, 0)
  line L119 (-90, 0) -> (-15, 0)
  line L120 (-15, 0) -> (-15, -5)
  line L121 (-15, -5) -> (-10, -5)
  line L122 (-93.366, 61) -> (-91.634, 61)
  line L123 (-91.634, 61) -> (-91.634, -1)
  line L124 (-91.634, -1) -> (-93.366, -1)
  line L125 (-93.366, -1) -> (-93.366, 61)
  line L126 (-13.366, 61) -> (-11.634, 61)
  line L127 (-11.634, 61) -> (-11.634, -1)
  line L128 (-11.634, -1) -> (-13.366, -1)
  line L129 (-13.366, -1) -> (-13.366, 61)
extrude "Extrude4" cut sketch "Sketch3" against normal blind 0.5 contours L6 L37 L38 L126 L127 L129 | L25 L40 L41 L127 L128 L129 | L17 L86 L87 L122 L123 L125 | L20 L84 L89 L123 L124 L125
